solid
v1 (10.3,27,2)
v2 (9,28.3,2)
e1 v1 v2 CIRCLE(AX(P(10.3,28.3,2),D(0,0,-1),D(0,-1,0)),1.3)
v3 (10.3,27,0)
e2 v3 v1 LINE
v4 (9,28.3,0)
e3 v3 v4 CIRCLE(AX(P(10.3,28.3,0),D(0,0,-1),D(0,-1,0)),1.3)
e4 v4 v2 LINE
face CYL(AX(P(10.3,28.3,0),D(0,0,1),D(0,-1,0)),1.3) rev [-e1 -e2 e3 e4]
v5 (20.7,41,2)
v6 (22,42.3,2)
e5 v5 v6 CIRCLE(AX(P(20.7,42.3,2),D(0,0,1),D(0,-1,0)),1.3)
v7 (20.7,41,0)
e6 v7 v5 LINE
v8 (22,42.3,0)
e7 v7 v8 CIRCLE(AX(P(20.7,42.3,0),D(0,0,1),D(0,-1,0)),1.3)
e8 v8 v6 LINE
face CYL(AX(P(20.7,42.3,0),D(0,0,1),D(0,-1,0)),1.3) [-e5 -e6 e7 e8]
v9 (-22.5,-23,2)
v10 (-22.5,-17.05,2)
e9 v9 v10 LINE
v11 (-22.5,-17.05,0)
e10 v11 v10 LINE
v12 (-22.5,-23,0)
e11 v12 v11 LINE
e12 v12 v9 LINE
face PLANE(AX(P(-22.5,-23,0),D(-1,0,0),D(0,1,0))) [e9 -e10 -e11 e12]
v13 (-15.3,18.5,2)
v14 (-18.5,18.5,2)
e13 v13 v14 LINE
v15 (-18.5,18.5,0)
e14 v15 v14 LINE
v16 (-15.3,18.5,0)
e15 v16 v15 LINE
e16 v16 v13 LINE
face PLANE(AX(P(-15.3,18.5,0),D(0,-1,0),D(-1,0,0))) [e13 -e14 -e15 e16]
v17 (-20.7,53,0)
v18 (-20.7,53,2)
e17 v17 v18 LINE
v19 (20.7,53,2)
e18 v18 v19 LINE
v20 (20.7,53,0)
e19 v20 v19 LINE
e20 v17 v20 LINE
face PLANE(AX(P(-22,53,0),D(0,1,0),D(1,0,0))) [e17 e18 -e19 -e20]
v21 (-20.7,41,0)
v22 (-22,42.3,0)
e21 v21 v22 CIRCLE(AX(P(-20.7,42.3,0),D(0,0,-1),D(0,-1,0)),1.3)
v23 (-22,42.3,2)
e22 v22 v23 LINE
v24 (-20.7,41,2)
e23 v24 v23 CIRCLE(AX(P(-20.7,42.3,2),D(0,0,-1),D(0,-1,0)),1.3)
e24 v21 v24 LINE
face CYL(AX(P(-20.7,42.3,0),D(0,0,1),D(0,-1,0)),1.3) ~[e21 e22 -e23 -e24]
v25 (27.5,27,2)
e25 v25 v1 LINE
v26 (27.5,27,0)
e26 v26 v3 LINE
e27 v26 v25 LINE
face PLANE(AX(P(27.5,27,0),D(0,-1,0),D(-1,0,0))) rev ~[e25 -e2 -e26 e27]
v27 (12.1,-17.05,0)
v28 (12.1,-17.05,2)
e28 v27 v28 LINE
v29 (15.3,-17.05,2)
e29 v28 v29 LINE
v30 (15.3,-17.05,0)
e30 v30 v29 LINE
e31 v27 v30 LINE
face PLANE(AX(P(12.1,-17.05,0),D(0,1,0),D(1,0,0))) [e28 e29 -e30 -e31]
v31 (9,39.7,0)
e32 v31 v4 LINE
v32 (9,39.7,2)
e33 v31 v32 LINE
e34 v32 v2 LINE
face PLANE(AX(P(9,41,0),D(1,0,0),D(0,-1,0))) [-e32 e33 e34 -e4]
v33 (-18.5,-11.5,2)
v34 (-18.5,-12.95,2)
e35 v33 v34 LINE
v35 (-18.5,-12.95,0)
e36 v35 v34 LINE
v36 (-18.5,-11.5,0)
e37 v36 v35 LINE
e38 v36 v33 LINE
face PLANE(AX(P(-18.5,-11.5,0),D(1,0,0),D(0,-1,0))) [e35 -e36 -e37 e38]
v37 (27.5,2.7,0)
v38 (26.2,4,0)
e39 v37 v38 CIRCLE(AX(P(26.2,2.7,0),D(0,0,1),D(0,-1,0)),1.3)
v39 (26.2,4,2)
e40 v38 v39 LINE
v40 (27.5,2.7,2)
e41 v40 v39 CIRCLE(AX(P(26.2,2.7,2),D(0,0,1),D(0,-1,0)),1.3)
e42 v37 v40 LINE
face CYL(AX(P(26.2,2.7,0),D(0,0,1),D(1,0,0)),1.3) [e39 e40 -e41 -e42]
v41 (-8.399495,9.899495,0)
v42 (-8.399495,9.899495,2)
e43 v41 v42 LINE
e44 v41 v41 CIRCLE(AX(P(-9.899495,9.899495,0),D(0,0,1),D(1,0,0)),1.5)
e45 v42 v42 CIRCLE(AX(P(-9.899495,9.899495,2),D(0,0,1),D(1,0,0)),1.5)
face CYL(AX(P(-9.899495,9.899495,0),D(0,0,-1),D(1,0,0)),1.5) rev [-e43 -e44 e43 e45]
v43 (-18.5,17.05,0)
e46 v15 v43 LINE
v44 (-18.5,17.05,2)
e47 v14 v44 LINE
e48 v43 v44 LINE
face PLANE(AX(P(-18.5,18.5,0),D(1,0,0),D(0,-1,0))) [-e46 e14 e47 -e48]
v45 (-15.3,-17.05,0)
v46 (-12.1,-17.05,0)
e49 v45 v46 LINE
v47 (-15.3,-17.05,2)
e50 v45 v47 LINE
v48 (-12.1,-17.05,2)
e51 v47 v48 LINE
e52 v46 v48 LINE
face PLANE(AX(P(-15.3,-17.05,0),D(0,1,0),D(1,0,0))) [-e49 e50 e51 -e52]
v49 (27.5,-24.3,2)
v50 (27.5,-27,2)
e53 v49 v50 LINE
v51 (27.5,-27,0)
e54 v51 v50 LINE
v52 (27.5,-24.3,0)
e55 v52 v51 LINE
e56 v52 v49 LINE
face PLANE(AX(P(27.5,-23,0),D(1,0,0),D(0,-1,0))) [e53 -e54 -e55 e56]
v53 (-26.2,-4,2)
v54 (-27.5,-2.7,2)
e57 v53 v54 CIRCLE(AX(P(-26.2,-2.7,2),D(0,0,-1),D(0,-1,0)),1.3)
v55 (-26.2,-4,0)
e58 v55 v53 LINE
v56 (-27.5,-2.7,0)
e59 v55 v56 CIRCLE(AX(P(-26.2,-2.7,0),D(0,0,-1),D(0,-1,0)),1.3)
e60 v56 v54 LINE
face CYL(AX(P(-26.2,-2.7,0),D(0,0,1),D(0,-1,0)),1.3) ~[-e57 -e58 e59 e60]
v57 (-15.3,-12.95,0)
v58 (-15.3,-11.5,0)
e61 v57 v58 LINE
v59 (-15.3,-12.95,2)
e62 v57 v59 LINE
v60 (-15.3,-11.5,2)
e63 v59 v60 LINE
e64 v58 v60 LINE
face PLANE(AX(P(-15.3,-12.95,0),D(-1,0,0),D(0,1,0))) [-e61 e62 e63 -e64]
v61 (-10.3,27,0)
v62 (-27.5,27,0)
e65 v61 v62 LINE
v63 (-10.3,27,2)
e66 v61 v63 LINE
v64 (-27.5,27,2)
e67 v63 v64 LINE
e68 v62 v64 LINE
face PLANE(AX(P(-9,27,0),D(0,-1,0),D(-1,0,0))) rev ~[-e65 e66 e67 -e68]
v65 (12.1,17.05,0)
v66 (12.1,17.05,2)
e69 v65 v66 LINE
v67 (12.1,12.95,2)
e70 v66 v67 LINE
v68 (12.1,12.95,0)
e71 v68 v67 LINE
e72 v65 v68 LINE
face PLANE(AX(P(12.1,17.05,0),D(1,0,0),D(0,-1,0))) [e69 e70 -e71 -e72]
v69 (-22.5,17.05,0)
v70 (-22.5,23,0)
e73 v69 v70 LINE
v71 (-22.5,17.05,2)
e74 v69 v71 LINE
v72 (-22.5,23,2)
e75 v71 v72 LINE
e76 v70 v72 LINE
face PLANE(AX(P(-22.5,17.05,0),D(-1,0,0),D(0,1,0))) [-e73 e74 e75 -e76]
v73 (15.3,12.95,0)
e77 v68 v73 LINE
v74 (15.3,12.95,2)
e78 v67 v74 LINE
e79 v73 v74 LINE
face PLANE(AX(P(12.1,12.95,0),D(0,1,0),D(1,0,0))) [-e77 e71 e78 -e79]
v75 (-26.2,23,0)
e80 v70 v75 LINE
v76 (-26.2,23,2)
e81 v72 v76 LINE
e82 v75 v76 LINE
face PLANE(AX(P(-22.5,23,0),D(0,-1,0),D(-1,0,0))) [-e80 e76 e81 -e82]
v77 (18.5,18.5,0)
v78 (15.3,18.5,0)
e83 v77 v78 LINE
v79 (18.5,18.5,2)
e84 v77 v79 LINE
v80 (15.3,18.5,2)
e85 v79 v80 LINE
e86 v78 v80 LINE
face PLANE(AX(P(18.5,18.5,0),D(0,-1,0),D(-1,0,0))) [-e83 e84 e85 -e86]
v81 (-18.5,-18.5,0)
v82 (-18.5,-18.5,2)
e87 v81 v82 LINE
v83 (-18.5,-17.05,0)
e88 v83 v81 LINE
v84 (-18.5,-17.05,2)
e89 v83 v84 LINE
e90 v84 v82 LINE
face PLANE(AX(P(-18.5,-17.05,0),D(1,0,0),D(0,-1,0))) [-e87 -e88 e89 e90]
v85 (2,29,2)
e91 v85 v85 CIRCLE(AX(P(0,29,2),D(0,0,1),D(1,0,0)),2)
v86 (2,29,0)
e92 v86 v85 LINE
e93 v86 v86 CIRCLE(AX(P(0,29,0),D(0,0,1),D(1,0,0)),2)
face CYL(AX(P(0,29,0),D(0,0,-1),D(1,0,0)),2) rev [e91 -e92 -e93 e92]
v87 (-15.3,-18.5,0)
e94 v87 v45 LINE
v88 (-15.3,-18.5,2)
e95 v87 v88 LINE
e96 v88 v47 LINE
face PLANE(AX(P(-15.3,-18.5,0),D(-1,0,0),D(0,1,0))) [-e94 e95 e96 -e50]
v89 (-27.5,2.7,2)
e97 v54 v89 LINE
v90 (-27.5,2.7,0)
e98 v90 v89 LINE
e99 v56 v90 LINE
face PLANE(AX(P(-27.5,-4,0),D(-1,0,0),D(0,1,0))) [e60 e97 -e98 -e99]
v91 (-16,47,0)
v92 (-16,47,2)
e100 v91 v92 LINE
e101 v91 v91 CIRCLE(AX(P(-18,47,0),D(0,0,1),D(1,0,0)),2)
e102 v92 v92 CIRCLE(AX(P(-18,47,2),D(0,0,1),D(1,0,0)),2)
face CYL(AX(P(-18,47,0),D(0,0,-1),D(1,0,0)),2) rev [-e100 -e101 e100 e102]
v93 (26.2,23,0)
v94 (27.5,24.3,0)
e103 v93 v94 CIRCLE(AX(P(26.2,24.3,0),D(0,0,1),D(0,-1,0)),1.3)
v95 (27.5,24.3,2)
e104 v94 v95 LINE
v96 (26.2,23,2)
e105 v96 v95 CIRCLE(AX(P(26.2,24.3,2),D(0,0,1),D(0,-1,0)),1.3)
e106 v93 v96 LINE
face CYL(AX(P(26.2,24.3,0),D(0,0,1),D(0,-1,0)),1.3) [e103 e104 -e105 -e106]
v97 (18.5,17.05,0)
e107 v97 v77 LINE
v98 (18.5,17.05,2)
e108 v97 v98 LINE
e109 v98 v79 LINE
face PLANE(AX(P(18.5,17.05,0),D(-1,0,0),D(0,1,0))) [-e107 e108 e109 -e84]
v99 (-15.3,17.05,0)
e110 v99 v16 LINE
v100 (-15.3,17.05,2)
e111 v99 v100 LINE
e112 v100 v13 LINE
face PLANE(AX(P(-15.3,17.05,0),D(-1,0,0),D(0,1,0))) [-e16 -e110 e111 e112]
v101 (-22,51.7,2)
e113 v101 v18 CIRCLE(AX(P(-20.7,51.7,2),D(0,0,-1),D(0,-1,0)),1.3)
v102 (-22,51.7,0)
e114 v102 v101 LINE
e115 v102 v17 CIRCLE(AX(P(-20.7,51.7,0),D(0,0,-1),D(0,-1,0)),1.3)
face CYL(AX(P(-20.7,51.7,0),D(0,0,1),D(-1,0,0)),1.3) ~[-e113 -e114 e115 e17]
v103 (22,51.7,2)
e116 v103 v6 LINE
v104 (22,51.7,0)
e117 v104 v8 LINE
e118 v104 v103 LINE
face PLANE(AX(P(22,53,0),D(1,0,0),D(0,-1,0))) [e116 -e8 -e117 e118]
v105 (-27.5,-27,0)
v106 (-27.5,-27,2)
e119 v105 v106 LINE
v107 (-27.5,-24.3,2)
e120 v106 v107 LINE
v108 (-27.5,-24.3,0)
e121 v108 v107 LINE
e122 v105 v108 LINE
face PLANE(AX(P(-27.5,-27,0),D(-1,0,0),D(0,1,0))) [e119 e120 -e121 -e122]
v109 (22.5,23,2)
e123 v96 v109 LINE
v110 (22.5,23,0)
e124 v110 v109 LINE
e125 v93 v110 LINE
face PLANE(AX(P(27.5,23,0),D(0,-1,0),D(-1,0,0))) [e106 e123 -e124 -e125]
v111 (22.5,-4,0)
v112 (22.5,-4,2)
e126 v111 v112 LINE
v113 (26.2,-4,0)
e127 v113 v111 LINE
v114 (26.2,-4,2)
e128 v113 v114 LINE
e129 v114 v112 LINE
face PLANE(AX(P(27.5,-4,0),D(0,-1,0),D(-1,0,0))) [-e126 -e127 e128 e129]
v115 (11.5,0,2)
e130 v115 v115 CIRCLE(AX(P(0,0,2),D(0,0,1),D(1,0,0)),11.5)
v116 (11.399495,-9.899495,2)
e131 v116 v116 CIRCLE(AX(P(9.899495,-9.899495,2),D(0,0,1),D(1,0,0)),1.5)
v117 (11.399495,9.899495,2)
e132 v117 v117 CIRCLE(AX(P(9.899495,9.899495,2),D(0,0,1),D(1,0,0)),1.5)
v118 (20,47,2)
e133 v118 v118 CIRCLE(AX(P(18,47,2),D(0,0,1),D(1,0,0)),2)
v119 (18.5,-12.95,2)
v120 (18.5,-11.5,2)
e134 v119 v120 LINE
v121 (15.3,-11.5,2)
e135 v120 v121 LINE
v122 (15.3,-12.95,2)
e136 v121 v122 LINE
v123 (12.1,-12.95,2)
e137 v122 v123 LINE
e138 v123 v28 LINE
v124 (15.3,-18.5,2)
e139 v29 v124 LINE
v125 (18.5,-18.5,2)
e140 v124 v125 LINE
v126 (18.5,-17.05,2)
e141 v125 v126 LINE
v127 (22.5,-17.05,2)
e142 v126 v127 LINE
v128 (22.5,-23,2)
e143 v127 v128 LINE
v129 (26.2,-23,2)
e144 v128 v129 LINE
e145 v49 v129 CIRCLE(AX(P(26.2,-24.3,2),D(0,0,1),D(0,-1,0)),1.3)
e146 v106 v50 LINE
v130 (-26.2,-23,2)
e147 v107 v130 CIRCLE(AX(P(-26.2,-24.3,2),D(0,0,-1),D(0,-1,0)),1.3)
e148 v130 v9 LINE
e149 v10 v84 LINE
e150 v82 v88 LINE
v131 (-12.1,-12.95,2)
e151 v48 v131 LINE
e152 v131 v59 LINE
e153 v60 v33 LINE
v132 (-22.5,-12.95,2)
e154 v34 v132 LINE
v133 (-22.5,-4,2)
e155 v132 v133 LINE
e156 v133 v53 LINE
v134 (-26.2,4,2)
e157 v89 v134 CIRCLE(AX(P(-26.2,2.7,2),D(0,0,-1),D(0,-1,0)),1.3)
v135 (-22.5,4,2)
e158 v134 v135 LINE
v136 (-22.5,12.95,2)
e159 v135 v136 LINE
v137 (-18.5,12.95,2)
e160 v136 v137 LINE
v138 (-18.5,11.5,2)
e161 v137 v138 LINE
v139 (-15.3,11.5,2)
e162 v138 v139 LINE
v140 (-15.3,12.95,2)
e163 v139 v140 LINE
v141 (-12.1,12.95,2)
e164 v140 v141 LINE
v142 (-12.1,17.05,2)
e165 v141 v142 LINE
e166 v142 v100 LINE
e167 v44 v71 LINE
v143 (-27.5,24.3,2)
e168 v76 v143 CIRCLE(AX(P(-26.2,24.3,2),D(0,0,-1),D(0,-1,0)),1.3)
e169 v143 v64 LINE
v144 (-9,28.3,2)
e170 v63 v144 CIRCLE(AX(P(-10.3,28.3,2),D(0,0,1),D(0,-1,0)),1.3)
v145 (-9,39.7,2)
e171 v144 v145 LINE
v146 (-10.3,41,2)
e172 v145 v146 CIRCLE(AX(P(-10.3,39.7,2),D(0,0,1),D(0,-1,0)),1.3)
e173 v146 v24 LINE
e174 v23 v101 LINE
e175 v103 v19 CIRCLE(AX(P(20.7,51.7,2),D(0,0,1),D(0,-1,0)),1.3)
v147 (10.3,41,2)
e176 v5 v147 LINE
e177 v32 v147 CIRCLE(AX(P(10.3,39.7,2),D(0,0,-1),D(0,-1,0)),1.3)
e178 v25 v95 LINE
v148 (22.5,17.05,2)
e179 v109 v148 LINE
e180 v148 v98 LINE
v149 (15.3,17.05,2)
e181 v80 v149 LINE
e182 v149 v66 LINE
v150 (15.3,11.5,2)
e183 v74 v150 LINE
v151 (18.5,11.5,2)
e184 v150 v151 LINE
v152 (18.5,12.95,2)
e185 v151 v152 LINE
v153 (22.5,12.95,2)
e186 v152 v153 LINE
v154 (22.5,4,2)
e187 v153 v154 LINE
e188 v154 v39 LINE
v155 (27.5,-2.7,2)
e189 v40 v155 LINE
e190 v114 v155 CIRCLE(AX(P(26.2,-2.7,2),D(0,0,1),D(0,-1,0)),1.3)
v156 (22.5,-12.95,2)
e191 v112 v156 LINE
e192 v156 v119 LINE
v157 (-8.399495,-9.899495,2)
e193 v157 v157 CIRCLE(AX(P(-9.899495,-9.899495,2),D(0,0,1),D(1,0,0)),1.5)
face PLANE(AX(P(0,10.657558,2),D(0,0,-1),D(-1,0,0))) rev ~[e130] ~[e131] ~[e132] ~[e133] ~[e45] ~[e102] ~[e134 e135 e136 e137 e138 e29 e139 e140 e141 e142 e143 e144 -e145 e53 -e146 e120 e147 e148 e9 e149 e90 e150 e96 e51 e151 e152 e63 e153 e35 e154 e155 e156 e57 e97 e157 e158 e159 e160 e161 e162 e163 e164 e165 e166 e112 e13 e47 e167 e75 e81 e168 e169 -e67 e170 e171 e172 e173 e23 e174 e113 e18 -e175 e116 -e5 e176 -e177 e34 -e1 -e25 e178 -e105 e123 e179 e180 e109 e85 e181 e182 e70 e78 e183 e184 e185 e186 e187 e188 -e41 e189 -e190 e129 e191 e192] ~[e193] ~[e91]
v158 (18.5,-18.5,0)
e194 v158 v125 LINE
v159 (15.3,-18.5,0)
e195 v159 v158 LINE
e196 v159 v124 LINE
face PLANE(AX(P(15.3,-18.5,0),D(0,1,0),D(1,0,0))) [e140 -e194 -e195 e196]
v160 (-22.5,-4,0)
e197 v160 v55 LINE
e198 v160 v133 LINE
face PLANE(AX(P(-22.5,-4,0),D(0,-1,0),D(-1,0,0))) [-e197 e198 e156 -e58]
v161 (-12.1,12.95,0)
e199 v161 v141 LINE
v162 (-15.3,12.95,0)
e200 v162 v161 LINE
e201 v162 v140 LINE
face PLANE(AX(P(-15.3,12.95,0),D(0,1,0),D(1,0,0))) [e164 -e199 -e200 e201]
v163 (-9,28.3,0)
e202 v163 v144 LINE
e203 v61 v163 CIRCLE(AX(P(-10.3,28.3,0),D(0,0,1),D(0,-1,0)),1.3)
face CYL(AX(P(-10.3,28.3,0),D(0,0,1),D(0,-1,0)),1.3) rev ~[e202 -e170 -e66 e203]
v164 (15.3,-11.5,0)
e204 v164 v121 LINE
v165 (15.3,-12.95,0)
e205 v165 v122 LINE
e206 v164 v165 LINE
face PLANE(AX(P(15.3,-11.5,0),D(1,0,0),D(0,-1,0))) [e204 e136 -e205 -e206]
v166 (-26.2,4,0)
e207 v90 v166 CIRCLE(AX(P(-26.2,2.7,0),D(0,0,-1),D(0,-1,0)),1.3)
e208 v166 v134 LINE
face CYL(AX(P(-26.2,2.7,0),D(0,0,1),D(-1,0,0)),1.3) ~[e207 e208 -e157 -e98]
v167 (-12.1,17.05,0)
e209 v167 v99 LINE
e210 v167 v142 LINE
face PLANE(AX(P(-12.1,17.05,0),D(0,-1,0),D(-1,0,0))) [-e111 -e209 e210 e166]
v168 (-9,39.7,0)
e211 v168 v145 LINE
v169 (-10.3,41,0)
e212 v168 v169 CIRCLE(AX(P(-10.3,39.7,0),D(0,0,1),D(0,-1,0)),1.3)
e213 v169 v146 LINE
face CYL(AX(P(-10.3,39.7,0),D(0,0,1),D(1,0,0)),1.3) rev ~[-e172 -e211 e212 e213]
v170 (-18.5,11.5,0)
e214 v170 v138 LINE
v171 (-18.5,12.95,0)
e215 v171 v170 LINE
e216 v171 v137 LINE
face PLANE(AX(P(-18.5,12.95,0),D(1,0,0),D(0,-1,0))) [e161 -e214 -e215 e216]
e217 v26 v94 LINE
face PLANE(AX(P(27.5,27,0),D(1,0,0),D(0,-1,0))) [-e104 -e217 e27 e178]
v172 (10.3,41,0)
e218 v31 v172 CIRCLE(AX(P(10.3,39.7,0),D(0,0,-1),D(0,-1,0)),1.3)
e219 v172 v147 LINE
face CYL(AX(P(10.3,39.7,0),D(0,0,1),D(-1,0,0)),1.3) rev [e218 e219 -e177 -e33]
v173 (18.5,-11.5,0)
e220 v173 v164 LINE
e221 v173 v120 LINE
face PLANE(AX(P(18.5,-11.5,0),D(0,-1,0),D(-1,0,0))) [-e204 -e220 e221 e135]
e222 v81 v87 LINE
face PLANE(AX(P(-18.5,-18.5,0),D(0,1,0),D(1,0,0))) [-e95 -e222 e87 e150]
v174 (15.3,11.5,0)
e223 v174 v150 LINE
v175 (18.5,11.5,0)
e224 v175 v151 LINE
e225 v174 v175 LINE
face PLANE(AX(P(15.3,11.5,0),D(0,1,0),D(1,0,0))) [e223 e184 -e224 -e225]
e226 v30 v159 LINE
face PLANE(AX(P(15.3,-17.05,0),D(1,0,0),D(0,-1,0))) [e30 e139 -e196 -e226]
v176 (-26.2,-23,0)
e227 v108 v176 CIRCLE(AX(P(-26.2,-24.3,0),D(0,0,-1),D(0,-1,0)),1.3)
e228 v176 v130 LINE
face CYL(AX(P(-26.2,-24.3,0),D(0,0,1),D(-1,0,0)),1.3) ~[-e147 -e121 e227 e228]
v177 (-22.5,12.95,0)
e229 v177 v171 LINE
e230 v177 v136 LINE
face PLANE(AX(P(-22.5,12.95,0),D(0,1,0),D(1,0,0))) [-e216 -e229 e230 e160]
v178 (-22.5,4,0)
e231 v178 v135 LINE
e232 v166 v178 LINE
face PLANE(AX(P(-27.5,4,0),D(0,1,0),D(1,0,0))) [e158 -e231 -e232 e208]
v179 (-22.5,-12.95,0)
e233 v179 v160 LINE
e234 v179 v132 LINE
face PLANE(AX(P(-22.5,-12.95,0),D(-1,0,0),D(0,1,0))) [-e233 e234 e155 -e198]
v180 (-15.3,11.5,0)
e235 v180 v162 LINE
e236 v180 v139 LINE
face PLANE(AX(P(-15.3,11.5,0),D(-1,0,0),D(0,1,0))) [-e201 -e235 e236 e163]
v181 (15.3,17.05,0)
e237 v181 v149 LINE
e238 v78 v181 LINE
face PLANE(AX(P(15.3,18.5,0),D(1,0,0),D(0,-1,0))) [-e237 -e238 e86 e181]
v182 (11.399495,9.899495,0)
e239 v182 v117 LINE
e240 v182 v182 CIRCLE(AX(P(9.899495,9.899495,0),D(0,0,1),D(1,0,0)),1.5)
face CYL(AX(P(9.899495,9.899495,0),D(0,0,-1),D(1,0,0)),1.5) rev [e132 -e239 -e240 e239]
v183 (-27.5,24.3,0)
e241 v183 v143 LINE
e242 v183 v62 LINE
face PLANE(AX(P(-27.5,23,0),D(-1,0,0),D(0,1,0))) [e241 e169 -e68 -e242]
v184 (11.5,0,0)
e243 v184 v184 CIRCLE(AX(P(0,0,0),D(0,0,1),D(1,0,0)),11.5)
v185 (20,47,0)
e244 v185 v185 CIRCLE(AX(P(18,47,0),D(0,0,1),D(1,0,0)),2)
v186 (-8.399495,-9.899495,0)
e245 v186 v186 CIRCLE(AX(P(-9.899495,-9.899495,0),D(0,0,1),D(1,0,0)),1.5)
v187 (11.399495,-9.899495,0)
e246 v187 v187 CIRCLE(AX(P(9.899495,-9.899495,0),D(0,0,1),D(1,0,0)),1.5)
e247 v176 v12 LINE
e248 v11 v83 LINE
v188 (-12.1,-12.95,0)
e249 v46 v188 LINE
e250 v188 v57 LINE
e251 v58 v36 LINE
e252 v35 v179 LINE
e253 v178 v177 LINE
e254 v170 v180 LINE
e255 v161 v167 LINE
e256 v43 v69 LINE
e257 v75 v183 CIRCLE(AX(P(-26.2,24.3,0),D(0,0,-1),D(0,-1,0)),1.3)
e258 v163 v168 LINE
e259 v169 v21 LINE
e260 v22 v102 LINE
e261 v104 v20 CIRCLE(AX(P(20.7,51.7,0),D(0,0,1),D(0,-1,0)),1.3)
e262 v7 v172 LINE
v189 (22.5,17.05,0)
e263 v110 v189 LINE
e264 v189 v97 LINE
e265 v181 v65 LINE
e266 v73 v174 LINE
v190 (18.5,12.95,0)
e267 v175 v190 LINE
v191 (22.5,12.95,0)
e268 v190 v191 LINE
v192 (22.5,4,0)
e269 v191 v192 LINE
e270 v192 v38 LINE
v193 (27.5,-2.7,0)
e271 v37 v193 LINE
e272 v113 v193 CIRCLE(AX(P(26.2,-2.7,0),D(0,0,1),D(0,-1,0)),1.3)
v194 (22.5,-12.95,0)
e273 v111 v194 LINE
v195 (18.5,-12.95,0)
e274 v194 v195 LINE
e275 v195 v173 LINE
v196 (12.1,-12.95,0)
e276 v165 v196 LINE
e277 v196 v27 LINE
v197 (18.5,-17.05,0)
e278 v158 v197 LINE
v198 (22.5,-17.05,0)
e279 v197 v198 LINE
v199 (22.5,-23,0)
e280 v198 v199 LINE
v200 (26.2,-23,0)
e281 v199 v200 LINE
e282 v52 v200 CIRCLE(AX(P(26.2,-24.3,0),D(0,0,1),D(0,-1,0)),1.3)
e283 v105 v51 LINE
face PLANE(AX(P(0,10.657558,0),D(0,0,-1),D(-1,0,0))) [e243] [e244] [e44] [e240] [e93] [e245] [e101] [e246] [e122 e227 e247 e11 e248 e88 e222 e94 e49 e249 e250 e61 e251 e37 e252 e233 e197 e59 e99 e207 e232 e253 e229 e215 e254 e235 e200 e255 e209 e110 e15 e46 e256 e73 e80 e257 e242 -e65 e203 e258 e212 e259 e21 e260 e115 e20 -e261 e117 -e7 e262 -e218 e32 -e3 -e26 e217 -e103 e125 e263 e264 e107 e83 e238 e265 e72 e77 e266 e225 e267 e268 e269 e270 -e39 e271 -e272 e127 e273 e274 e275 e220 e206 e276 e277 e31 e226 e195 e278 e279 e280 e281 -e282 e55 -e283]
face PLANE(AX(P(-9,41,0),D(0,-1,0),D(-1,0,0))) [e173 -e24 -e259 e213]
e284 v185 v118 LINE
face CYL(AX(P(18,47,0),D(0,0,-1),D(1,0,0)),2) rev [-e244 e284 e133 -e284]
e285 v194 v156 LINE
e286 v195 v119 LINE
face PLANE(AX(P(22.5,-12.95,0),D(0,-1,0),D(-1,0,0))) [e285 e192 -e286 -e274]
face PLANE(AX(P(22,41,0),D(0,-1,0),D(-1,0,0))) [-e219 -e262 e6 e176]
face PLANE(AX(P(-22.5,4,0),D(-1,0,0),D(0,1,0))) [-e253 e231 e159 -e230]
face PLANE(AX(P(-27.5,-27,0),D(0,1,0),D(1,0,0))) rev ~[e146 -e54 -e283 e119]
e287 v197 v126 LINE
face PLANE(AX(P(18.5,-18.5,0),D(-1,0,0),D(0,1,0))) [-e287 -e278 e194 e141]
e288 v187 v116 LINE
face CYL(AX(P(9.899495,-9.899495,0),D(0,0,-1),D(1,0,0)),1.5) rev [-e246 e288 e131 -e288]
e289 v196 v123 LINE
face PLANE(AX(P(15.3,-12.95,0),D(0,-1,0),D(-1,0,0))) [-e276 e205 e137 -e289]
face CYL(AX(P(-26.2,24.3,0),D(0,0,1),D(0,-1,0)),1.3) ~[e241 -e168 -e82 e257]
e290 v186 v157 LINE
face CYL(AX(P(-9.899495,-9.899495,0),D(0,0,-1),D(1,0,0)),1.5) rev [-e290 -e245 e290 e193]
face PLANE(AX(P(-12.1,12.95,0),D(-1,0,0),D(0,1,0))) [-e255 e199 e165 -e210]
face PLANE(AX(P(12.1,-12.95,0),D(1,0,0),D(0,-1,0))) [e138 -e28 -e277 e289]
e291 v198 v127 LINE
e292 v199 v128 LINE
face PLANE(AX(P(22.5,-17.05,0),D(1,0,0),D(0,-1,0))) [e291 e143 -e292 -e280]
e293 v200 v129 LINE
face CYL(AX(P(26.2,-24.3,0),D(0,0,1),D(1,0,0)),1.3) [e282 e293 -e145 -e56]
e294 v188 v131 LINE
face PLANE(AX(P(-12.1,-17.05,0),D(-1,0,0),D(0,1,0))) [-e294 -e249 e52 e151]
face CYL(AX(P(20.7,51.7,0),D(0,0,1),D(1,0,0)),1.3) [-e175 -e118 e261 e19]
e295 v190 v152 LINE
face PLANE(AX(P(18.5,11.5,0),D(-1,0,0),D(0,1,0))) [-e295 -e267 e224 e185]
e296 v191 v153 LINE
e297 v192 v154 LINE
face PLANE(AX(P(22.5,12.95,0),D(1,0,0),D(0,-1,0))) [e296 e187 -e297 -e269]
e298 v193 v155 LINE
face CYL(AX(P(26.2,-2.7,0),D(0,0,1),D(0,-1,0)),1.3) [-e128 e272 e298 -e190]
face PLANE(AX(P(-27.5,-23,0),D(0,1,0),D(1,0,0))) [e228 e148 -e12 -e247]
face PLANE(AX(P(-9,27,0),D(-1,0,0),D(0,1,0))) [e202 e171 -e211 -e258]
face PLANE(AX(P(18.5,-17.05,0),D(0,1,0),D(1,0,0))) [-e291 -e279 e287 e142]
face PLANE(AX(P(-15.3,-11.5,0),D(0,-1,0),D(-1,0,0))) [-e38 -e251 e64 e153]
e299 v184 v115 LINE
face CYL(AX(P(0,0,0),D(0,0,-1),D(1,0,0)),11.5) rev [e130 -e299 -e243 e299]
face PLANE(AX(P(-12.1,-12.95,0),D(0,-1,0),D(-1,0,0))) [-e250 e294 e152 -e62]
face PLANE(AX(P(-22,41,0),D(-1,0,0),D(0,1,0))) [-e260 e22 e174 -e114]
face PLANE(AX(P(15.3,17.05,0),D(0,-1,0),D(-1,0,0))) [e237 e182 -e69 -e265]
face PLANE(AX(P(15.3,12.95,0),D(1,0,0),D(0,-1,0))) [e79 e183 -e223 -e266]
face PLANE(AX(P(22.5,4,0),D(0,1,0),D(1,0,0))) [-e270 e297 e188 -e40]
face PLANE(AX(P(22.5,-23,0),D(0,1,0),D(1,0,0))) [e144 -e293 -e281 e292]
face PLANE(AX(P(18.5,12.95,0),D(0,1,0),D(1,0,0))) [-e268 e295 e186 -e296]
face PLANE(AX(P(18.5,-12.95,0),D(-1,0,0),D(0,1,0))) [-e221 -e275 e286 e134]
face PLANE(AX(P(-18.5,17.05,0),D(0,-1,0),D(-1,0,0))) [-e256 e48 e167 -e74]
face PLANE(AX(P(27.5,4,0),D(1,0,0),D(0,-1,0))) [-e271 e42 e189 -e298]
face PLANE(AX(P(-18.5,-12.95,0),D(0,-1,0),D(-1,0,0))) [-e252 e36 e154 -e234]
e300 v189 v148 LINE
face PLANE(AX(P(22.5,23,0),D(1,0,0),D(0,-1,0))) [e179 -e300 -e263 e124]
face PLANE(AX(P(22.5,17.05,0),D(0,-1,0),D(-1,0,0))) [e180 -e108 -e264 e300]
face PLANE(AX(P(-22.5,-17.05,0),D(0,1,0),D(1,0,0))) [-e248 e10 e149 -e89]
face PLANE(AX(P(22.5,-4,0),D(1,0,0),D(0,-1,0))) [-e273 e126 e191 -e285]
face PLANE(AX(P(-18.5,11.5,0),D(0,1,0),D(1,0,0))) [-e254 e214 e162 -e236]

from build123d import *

# Parameters (mm, degrees)
SKETCH_1_R      = 1.5
SKETCH_1_R_2    = 11.5
SKETCH_1_R_3    = 2
EXTRUDE_1_DEPTH = 2
FILLET_1_R      = 1.3


with BuildPart() as part:
    # 草图1 → 凸台-拉伸1 (new body)
    with BuildSketch(Plane.XY):
        Polygon((22.5, -27), (-22.5, -27), (-27.5, -27), (-27.5, -23), (-22.5, -23), (-22.5, -17.05), (-18.5, -17.05), (-18.5, -18.5), (-15.3, -18.5), (-15.3, -17.05), (-12.1, -17.05), (-12.1, -12.95), (-15.3, -12.95), (-15.3, -11.5), (-18.5, -11.5), (-18.5, -12.95), (-22.5, -12.95), (-22.5, -4), (-27.5, -4), (-27.5, 4), (-22.5, 4), (-22.5, 12.95), (-18.5, 12.95), (-18.5, 11.5), (-15.3, 11.5), (-15.3, 12.95), (-12.1, 12.95), (-12.1, 17.05), (-15.3, 17.05), (-15.3, 18.5), (-18.5, 18.5), (-18.5, 17.05), (-22.5, 17.05), (-22.5, 23), (-27.5, 23), (-27.5, 27), (-22.5, 27), (-9, 27), (-9, 41), (-22, 41), (-22, 53), (22, 53), (22, 41), (9, 41), (9, 27), (22.5, 27), (27.5, 27), (27.5, 23), (22.5, 23), (22.5, 17.05), (18.5, 17.05), (18.5, 18.5), (15.3, 18.5), (15.3, 17.05), (12.1, 17.05), (12.1, 12.95), (15.3, 12.95), (15.3, 11.5), (18.5, 11.5), (18.5, 12.95), (22.5, 12.95), (22.5, 4), (27.5, 4), (27.5, -4), (22.5, -4), (22.5, -12.95), (18.5, -12.95), (18.5, -11.5), (15.3, -11.5), (15.3, -12.95), (12.1, -12.95), (12.1, -17.05), (15.3, -17.05), (15.3, -18.5), (18.5, -18.5), (18.5, -17.05), (22.5, -17.05), (22.5, -23), (27.5, -23), (27.5, -27), align=None)
        with Locations((9.899494937, 9.899494937)):
            Circle(SKETCH_1_R, mode=Mode.SUBTRACT)
        Circle(SKETCH_1_R_2, mode=Mode.SUBTRACT)
        with Locations((9.899494937, -9.899494937)):
            Circle(SKETCH_1_R, mode=Mode.SUBTRACT)
        with Locations((-9.899494937, -9.899494937)):
            Circle(SKETCH_1_R, mode=Mode.SUBTRACT)
        with Locations((-9.899494937, 9.899494937)):
            Circle(SKETCH_1_R, mode=Mode.SUBTRACT)
        with Locations((-18, 47)):
            Circle(SKETCH_1_R_3, mode=Mode.SUBTRACT)
        with Locations((18, 47)):
            Circle(SKETCH_1_R_3, mode=Mode.SUBTRACT)
        with Locations((0, 29)):
            Circle(SKETCH_1_R_3, mode=Mode.SUBTRACT)
    extrude(amount=EXTRUDE_1_DEPTH)

    # 圆角1
    fillet_1_edges = [part.edges().sort_by_distance(p)[0] for p in [
        (-9, 27, 1),
        (-9, 41, 1),
        (-22, 41, 1),
        (-22, 53, 1),
        (22, 53, 1),
        (22, 41, 1),
        (9, 41, 1),
        (9, 27, 1),
        (27.5, 23, 1),
        (27.5, 4, 1),
        (27.5, -4, 1),
        (27.5, -23, 1),
        (-27.5, -23, 1),
        (-27.5, -4, 1),
        (-27.5, 4, 1),
        (-27.5, 23, 1),
    ]]
    fillet(fillet_1_edges, radius=FILLET_1_R)


solid = part.part
